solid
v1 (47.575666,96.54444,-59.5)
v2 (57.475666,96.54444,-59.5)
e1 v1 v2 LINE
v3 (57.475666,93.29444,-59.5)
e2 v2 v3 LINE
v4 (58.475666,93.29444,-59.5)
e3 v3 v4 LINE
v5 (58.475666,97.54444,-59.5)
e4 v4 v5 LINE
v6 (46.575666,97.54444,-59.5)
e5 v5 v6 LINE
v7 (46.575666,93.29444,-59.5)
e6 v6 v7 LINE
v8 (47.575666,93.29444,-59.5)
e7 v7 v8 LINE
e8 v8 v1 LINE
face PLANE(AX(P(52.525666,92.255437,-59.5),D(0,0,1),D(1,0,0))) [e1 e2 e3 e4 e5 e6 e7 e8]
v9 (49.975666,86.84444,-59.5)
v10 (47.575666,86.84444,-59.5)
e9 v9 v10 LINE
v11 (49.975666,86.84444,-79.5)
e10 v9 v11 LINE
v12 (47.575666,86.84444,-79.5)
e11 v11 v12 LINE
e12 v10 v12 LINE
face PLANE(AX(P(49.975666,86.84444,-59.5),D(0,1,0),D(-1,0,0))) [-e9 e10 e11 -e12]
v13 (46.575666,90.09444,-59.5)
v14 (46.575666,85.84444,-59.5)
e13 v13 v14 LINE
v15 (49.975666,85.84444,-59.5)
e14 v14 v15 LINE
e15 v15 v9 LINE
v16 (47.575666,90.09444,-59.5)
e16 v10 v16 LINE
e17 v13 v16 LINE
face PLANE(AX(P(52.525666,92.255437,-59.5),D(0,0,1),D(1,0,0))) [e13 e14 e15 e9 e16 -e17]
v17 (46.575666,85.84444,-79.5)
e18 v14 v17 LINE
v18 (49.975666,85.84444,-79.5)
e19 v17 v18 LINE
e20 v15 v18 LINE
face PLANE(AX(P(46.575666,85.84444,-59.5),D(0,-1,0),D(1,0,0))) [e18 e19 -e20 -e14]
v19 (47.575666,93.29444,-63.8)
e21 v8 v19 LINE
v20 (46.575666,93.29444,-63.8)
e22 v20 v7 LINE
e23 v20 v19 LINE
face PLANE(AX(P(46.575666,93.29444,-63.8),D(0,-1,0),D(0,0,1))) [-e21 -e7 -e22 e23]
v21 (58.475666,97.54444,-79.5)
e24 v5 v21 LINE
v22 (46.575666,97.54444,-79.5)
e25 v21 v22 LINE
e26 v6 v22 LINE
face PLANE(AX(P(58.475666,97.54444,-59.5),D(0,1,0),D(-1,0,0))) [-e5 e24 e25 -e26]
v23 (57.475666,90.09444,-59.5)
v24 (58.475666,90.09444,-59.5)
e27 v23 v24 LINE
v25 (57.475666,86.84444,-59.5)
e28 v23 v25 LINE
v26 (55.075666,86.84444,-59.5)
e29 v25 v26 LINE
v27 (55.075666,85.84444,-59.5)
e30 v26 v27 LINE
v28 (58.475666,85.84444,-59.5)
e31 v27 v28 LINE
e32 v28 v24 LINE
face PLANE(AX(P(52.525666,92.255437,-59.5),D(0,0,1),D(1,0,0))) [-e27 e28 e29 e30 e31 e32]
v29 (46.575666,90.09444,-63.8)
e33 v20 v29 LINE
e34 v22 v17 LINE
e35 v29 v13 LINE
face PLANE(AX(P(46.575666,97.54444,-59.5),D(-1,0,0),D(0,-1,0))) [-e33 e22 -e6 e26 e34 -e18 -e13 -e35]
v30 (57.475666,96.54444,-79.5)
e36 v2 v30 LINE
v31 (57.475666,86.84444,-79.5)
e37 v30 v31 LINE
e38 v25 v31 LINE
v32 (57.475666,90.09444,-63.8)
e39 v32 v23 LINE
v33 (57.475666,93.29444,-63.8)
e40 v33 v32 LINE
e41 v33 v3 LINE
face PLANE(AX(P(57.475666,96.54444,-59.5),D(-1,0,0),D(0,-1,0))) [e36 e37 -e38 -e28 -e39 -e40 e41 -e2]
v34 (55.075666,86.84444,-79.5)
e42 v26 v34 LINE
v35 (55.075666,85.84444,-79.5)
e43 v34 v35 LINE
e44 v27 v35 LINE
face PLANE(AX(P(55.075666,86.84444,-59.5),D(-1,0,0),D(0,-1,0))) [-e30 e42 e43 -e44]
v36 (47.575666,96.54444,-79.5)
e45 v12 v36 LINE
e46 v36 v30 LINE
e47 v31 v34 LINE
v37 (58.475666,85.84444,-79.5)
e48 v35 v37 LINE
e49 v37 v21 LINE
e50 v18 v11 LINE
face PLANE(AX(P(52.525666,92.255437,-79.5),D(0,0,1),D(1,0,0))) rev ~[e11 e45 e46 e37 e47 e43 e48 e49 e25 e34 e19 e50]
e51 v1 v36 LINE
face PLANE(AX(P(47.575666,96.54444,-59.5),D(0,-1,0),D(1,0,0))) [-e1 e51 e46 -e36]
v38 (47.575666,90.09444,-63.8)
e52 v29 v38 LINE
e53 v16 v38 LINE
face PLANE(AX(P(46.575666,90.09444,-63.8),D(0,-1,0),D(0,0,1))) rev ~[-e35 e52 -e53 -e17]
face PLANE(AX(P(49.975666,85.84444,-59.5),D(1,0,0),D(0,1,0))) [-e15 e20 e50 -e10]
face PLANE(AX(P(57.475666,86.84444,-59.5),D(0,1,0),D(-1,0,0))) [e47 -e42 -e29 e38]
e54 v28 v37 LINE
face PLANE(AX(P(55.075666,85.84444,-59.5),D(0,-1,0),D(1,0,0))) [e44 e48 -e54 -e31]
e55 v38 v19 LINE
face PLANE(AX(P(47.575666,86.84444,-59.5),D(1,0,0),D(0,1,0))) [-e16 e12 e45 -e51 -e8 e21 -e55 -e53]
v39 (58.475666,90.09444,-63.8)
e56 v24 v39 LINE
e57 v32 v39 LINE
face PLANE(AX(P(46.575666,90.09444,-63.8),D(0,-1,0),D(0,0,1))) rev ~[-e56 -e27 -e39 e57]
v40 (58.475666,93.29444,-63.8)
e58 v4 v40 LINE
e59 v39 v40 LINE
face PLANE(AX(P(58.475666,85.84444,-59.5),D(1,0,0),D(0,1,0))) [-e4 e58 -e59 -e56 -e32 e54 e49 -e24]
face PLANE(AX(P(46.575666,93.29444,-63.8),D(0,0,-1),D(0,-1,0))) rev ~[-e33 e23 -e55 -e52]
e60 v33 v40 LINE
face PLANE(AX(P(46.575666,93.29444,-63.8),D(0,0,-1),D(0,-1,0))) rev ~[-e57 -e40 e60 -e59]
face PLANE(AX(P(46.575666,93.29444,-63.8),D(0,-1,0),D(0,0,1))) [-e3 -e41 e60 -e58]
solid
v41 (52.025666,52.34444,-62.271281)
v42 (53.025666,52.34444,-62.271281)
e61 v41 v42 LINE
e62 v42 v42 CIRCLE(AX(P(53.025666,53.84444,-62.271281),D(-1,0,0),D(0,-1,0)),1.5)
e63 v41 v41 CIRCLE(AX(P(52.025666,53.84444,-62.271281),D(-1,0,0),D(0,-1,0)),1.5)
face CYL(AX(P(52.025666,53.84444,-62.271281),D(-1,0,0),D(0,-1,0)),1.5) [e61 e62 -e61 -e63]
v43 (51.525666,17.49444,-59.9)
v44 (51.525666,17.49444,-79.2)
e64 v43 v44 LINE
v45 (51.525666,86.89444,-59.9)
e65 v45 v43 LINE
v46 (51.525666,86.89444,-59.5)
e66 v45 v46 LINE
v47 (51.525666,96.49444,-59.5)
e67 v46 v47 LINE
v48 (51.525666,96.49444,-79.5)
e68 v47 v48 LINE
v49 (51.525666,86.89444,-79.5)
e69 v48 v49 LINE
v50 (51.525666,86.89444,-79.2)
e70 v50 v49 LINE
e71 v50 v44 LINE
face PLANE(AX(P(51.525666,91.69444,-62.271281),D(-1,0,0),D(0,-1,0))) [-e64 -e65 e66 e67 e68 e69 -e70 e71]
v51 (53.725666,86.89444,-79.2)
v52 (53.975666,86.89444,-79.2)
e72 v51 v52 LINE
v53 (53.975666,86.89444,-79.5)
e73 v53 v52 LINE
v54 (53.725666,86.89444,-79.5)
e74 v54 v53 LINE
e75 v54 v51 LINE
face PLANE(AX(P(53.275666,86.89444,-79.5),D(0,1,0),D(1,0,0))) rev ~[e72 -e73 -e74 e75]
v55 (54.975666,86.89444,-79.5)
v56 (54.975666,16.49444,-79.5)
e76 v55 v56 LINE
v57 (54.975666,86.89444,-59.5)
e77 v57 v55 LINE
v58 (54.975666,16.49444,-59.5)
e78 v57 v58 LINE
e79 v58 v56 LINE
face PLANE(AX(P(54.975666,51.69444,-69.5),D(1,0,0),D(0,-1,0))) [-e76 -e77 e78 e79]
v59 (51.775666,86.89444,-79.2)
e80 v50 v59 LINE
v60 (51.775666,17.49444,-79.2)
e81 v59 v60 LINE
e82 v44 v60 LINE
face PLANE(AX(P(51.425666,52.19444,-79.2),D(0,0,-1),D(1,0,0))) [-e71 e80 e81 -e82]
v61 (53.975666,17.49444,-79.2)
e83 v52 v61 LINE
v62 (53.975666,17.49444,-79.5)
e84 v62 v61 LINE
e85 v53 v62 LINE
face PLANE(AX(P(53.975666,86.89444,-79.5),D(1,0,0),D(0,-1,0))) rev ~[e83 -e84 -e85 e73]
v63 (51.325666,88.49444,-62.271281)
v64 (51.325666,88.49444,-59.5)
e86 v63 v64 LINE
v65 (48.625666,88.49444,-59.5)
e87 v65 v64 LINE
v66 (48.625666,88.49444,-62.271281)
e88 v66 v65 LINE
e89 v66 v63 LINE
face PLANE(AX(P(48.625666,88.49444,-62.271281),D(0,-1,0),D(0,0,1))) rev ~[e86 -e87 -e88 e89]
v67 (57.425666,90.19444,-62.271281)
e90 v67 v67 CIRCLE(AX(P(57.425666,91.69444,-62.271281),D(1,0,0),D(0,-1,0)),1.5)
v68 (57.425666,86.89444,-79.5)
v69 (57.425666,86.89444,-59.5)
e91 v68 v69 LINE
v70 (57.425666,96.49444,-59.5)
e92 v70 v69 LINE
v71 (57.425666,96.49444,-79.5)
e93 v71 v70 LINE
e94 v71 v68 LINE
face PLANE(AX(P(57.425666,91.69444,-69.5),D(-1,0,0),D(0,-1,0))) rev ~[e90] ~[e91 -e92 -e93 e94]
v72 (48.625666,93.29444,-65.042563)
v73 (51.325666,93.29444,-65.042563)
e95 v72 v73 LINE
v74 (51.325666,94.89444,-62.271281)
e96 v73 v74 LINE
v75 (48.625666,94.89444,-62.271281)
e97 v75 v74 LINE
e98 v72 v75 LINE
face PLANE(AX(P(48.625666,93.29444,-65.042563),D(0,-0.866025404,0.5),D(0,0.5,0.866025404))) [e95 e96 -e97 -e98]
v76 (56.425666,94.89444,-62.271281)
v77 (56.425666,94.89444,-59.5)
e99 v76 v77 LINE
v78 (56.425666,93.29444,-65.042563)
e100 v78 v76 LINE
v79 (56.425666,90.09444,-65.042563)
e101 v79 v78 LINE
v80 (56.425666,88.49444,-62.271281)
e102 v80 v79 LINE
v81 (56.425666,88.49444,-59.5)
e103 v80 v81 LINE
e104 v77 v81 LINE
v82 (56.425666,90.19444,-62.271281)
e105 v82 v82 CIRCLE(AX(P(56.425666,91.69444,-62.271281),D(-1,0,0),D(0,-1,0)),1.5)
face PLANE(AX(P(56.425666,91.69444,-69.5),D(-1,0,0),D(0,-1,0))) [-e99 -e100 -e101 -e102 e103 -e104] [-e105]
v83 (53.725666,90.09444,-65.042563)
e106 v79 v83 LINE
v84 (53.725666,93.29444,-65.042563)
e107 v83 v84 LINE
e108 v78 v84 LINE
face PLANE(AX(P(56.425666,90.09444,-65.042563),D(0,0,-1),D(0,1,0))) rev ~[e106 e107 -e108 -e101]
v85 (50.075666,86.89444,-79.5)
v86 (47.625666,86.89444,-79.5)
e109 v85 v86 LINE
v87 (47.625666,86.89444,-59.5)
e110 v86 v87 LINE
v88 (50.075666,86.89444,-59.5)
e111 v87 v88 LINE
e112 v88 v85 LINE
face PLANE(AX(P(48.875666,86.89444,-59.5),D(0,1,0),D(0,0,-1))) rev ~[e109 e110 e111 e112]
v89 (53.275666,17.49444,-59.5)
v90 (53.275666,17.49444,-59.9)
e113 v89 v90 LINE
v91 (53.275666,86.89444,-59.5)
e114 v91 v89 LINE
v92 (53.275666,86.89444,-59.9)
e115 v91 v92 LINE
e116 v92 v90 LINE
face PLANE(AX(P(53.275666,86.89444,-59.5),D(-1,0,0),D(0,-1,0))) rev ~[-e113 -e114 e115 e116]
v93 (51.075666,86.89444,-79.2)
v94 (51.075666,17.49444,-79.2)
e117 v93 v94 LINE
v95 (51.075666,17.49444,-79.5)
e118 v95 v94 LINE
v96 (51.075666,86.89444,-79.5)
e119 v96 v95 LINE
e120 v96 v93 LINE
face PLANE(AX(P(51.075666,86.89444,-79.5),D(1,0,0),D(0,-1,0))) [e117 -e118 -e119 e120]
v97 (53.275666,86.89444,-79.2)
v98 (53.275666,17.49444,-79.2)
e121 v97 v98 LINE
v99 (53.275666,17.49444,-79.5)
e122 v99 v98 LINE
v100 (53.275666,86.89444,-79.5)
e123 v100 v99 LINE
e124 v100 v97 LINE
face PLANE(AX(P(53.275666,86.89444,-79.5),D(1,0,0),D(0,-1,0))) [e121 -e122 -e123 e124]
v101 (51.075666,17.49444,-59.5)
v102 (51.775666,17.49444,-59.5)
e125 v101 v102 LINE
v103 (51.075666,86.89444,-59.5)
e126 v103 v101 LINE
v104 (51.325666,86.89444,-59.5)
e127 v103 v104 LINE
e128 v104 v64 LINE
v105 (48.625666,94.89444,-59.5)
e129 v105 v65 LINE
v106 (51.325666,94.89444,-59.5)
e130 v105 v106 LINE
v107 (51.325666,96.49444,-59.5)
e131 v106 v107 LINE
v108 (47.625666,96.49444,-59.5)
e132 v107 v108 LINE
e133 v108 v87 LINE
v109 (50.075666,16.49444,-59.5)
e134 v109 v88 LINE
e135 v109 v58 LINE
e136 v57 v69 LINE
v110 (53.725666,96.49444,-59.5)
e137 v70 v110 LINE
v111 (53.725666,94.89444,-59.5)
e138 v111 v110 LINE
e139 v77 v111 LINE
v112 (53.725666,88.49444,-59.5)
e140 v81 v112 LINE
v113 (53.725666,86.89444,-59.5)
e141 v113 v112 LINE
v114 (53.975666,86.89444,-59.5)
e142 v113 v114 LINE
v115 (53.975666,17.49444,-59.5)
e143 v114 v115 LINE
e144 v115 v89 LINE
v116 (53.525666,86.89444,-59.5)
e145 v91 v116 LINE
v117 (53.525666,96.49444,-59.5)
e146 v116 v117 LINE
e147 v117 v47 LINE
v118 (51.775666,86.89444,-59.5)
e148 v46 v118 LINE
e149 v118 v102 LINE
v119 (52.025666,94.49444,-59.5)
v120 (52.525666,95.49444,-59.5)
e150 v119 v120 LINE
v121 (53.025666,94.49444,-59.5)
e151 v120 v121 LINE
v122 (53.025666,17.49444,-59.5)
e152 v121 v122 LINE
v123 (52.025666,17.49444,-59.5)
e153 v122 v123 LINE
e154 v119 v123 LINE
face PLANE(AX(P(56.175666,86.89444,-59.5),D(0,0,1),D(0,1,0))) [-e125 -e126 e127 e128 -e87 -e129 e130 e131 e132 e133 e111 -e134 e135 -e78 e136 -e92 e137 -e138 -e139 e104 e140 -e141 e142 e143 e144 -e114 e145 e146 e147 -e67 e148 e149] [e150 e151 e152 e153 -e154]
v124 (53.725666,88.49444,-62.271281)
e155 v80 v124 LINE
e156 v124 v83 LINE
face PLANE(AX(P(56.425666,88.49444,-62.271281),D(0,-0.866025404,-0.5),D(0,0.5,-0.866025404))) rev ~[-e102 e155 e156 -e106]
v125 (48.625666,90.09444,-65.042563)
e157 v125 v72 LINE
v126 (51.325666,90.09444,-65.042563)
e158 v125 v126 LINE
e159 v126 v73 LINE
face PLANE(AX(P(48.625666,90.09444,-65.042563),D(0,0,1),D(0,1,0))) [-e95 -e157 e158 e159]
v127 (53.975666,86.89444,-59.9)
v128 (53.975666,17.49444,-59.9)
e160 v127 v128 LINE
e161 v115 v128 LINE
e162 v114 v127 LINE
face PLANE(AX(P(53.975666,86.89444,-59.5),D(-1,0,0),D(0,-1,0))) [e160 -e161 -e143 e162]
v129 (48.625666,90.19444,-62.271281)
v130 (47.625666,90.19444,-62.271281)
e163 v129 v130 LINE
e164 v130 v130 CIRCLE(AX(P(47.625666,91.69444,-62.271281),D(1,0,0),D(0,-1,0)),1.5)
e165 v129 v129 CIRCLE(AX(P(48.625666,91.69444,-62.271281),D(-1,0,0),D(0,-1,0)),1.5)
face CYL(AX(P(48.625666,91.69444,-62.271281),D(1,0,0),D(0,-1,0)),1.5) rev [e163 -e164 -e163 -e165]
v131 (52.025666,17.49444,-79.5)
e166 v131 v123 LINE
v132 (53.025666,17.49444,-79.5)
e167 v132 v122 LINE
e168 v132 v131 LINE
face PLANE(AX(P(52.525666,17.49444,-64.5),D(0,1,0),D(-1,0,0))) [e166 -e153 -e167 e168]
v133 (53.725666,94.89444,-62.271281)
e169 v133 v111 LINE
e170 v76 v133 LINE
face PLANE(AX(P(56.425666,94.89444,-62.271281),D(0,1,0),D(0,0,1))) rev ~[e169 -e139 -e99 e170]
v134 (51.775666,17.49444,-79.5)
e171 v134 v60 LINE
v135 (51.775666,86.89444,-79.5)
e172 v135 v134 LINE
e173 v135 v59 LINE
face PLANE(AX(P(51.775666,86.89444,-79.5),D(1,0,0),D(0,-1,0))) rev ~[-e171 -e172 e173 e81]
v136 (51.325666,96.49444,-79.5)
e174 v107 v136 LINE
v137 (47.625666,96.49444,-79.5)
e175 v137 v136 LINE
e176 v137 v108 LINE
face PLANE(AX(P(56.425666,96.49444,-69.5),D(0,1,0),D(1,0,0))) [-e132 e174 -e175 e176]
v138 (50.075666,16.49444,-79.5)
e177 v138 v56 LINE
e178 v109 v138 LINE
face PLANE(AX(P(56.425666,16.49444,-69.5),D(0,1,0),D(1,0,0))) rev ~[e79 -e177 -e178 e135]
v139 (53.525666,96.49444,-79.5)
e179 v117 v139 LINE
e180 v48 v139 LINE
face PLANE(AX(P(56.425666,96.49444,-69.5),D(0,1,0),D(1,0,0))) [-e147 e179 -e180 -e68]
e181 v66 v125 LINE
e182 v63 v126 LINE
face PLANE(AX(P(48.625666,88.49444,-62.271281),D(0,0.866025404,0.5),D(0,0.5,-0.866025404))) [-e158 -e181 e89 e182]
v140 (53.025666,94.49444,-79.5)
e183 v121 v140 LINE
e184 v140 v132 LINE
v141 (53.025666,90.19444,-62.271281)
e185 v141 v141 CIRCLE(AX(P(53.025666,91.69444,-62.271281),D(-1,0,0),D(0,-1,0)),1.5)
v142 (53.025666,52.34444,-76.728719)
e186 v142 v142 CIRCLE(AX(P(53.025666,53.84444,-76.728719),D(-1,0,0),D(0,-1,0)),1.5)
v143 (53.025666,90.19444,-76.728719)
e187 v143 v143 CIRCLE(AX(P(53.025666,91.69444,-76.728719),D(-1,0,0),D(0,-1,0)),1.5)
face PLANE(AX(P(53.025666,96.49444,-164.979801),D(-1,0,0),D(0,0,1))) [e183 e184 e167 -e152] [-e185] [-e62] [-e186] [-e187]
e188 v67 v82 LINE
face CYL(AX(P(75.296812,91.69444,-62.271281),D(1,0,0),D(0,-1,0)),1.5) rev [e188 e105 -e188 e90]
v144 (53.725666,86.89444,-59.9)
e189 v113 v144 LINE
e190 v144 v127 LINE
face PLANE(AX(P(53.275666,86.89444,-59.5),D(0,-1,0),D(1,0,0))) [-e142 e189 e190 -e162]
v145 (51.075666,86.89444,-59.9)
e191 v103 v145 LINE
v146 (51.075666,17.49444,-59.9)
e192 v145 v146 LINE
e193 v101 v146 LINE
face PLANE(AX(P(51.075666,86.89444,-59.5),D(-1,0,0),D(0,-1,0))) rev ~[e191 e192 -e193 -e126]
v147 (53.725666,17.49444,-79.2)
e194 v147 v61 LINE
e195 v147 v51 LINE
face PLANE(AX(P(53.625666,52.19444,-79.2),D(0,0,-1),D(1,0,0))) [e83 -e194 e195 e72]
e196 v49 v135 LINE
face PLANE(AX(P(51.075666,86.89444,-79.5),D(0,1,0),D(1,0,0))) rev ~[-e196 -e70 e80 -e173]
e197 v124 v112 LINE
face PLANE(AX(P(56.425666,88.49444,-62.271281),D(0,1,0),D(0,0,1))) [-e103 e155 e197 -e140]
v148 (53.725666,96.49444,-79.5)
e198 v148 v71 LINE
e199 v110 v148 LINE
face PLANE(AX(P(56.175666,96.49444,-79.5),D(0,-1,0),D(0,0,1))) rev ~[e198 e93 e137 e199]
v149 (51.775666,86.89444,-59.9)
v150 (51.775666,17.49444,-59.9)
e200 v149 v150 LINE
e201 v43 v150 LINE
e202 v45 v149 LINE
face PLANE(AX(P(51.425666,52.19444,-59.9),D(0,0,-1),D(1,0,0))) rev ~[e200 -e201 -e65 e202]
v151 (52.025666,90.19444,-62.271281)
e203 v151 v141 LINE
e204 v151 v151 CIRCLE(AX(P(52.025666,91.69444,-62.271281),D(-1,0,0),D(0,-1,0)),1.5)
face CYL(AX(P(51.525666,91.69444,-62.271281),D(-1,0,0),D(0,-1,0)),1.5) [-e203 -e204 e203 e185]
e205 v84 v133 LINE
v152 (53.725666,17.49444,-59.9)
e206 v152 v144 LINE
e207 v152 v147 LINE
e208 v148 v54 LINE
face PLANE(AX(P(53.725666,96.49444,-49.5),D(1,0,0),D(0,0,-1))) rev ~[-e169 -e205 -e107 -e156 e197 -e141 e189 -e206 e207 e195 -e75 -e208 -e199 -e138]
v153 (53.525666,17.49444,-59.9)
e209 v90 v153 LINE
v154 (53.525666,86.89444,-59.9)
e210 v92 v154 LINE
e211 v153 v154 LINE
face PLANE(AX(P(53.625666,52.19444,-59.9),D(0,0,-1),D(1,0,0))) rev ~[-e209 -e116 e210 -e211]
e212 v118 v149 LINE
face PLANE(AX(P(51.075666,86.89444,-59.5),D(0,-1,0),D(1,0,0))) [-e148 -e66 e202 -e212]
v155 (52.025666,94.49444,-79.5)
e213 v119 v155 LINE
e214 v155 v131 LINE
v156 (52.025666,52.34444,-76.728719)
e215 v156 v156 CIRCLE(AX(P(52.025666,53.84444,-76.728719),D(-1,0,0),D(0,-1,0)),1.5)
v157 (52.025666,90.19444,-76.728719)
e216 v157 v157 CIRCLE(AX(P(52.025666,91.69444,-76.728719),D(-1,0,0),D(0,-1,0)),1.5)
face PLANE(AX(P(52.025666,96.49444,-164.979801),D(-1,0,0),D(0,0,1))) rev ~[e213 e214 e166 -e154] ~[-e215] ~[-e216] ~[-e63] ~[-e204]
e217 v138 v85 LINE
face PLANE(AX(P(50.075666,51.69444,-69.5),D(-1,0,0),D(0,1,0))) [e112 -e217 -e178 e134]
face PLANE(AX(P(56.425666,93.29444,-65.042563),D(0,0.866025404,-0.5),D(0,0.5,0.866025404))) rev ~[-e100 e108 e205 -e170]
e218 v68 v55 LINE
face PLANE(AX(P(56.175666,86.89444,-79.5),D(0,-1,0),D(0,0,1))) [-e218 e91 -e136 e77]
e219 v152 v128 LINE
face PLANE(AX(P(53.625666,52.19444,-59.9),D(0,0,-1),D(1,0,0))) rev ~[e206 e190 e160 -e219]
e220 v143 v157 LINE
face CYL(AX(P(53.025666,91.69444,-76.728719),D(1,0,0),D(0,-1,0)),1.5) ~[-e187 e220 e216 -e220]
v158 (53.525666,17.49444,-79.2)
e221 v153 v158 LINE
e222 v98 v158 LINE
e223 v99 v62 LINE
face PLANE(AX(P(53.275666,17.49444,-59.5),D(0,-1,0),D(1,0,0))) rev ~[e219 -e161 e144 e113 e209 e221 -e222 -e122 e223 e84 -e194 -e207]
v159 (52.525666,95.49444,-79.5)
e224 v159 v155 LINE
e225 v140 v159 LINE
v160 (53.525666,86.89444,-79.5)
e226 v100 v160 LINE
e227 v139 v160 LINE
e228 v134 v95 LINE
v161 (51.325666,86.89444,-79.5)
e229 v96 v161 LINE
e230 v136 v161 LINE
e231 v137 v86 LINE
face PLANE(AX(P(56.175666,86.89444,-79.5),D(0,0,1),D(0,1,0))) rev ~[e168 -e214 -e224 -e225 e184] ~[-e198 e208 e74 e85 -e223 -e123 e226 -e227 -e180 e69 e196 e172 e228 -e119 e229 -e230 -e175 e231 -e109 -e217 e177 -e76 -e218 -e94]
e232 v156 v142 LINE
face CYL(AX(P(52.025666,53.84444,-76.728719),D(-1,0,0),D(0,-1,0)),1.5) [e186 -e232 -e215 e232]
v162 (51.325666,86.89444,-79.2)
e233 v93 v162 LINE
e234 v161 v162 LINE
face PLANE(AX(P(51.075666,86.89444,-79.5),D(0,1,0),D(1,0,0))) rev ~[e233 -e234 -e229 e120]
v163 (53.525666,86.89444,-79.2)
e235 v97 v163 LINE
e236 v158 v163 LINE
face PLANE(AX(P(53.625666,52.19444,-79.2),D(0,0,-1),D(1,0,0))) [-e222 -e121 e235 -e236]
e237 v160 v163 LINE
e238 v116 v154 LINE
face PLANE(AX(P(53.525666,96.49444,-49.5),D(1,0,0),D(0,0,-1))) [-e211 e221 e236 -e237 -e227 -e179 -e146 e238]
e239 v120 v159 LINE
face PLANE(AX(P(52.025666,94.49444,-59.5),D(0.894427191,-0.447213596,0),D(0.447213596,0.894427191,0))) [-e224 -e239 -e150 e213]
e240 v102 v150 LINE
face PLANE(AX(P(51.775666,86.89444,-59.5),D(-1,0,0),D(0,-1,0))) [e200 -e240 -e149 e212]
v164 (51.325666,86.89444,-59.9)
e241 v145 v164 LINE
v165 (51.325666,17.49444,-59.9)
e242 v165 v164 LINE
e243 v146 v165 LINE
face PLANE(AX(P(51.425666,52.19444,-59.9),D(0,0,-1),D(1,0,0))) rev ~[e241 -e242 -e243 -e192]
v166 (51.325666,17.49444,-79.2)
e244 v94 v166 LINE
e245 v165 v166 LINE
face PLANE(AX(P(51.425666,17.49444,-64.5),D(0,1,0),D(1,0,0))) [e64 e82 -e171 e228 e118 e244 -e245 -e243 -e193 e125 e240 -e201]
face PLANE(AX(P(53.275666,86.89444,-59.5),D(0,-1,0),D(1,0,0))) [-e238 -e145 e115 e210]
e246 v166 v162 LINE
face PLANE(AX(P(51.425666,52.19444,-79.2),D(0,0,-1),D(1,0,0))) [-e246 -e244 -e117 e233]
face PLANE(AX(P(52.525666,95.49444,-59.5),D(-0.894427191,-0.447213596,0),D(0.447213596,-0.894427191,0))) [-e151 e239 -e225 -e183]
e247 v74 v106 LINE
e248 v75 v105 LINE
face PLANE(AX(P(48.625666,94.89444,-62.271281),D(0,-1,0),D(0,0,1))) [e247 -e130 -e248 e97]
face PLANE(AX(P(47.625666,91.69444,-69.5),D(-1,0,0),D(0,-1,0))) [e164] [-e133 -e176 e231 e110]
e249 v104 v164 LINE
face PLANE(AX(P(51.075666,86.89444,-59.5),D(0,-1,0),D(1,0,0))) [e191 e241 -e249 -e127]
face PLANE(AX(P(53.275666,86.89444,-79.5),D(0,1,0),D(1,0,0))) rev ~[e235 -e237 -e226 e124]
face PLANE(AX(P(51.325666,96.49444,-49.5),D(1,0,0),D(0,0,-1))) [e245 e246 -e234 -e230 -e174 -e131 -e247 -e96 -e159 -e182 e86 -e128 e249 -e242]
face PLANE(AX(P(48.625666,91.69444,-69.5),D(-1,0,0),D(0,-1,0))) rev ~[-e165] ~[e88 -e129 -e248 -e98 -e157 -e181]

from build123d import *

# Parameters (mm, degrees)
RECTANGLE019_W         = 3.2
RECTANGLE019_H         = 4.3
EXTRUSION029_DEPTH     = 17.8604402213
EXTRUSION028_DEPTH     = 20
FACE001_W              = 70.4
FACE001_H              = 20
EXTRUSION027_DEPTH     = 1.2
FACE_W                 = 70.4
FACE_H                 = 20
EXTRUSION026_DEPTH     = 1.2
CLONE2D008_W           = 0.7
CLONE2D008_H           = 69.4
EXTRUSION025_DEPTH     = 0.4
RECTANGLE018_W         = 0.7
RECTANGLE018_H         = 69.4
EXTRUSION024_DEPTH     = 0.4
RECTANGLE017_W         = 0.7
RECTANGLE017_H         = 69.4
EXTRUSION023_DEPTH     = 0.3
RECTANGLE016_W         = 0.7
RECTANGLE016_H         = 69.4
EXTRUSION022_DEPTH     = 0.3
CLONE2D004_R           = 1.5
EXTRUSION_DEPTH        = 1
CIRCLE001_R            = 1.5
EXTRUSION020_DEPTH     = 1.5
CIRCLE_R               = 1.5
EXTRUSION019_DEPTH     = 18.8711460539
RECTANGLE014_W         = 9.6
RECTANGLE014_H         = 20
EXTRUSION017_DEPTH     = 1
RECTANGLE013_W         = 6.4
RECTANGLE013_H         = 2.7712812921
EXTRUSION016_DEPTH     = 2.7
RECTANGLE012_W         = 6.4
RECTANGLE012_H         = 2.7712812921
EXTRUSION015_DEPTH     = 2.7
EXTRUSION014_DEPTH     = 2.7
EXTRUSION013_DEPTH     = 2.7
RECTANGLE011_W         = 9.6
RECTANGLE011_H         = 20
EXTRUSION011_DEPTH     = 0.25
RECTANGLE010_W         = 9.44665831
RECTANGLE010_H         = 103.1218659611
EXTRUSION010_DEPTH     = 80.6022812444
RECTANGLE009_W         = 15.0148324292
RECTANGLE009_H         = 103.2643527035
EXTRUSION009_DEPTH     = 80.6022812444
RECTANGLE008_W         = 7.8
RECTANGLE008_H         = 20
EXTRUSION008_DEPTH     = 104.8179216702
RECTANGLE005_W         = 1
RECTANGLE005_H         = 200.9596025133
EXTRUSION005_DEPTH     = 79
RECTANGLE004_W         = 0.2
RECTANGLE004_H         = 30
EXTRUSION003_DEPTH     = 79
CLONE2D_W              = 0.2
CLONE2D_H              = 30
EXTRUSION004_DEPTH     = 79
RECTANGLE002_W         = 20
RECTANGLE002_H         = 20
EXTRUSION002_DEPTH     = 80
EXTRUSION006_DEPTH     = 55.9863181429
RECTANGLE006_W         = 20
RECTANGLE006_H         = 1
EXTRUSION007_DEPTH     = 2
CUT005_PLACEMENT_ANGLE = 270
CLONE2D002_W           = 9.6
CLONE2D002_H           = 20
EXTRUSION012_DEPTH     = 0.25
RECTANGLE015_W         = 9.6
RECTANGLE015_H         = 20
EXTRUSION018_DEPTH     = 1
CIRCLE002_R            = 1.5
EXTRUSION021_DEPTH     = 1
CIRCLE003_R            = 1.5
EXTRUSION030_DEPTH     = 1


with BuildPart() as extrusion030:
    # Rectangle019 → Extrusion029 (new body)
    with BuildSketch(Plane(origin=(46.5756657044, 93.2944395523, -63.8), x_dir=(0, -1, 0), z_dir=(-1, 0, 0))):
        with Locations((1.6, 2.15)):
            Rectangle(RECTANGLE019_W, RECTANGLE019_H)
    extrude(amount=-EXTRUSION029_DEPTH)


with BuildPart() as cut018002:
    # Wire001 → Extrusion028 (new body)
    with BuildSketch(Plane(origin=(55.0756657044, 85.8444395523, -59.5), x_dir=(1, 0, 0), z_dir=(0, 0, 1))):
        Polygon((0, 0), (3.4, 0), (3.4, 11.7), (-8.5, 11.7), (-8.5, 0), (-5.1, 0), (-5.1, 1), (-7.5, 1), (-7.5, 10.7), (2.4, 10.7), (2.4, 1), (0, 1), align=None)
    extrude(amount=-EXTRUSION028_DEPTH)

    # Cut018002: cut Extrusion030
    add(extrusion030.part, mode=Mode.SUBTRACT)


with BuildPart() as extrusion028:
    # Face001 → Extrusion027 (new body)
    with BuildSketch(Plane(origin=(56.1756657044, 51.6944395523, -69.5), x_dir=(0, -1, 0), z_dir=(1, 0, 0))):
        Rectangle(FACE001_W, FACE001_H)
    extrude(amount=-EXTRUSION027_DEPTH)


with BuildPart() as extrusion027:
    # Face → Extrusion026 (new body)
    with BuildSketch(Plane(origin=(48.8756657044, 51.6944395523, -69.5), x_dir=(0, 1, 0), z_dir=(-1, 0, 0))):
        Rectangle(FACE_W, FACE_H)
    extrude(amount=-EXTRUSION026_DEPTH)


with BuildPart() as extrusion026:
    # Clone2D008 → Extrusion025 (new body)
    with BuildSketch(Plane(origin=(51.0756657044, 86.8944395523, -59.5), x_dir=(1, 0, 0), z_dir=(0, 0, -1))):
        with Locations((0.35, 34.7)):
            Rectangle(CLONE2D008_W, CLONE2D008_H)
    extrude(amount=EXTRUSION025_DEPTH)


with BuildPart() as extrusion025:
    # Rectangle018 → Extrusion024 (new body)
    with BuildSketch(Plane(origin=(53.2756657044, 86.8944395523, -59.5), x_dir=(1, 0, 0), z_dir=(0, 0, -1))):
        with Locations((0.35, 34.7)):
            Rectangle(RECTANGLE018_W, RECTANGLE018_H)
    extrude(amount=EXTRUSION024_DEPTH)


with BuildPart() as extrusion024:
    # Rectangle017 → Extrusion023 (new body)
    with BuildSketch(Plane(origin=(51.0756657044, 86.8944395523, -79.5), x_dir=(1, 0, 0), z_dir=(0, 0, -1))):
        with Locations((0.35, 34.7)):
            Rectangle(RECTANGLE017_W, RECTANGLE017_H)
    extrude(amount=-EXTRUSION023_DEPTH)


with BuildPart() as extrusion023:
    # Rectangle016 → Extrusion022 (new body)
    with BuildSketch(Plane(origin=(53.2756657044, 86.8944395523, -79.5), x_dir=(1, 0, 0), z_dir=(0, 0, -1))):
        with Locations((0.35, 34.7)):
            Rectangle(RECTANGLE016_W, RECTANGLE016_H)
    extrude(amount=-EXTRUSION022_DEPTH)


with BuildPart() as extrusion:
    # Clone2D004 → Extrusion (new body)
    with BuildSketch(Plane(origin=(52.0256657044, 53.8444395523, -76.7287187079), x_dir=(0, -1, 0), z_dir=(-1, 0, 0))):
        Circle(CLONE2D004_R)
    extrude(amount=-EXTRUSION_DEPTH)


with BuildPart() as extrusion021:
    # Circle001 → Extrusion020 (new body)
    with BuildSketch(Plane(origin=(51.5256657044, 91.6944395523, -62.2712812921), x_dir=(0, -1, 0), z_dir=(-1, 0, 0))):
        Circle(CIRCLE001_R)
    extrude(amount=-EXTRUSION020_DEPTH)


with BuildPart() as extrusion019:
    # Circle → Extrusion019 (new body)
    with BuildSketch(Plane(origin=(48.6256657044, 91.6944395523, -62.2712812921), x_dir=(0, -1, 0), z_dir=(-1, 0, 0))):
        Circle(CIRCLE_R)
    extrude(amount=EXTRUSION019_DEPTH)


with BuildPart() as cut013:
    # Rectangle014 → Extrusion017 (new body)
    with BuildSketch(Plane(origin=(48.6256657044, 96.4944395523, -79.5), x_dir=(0, -1, 0), z_dir=(-1, 0, 0))):
        with Locations((4.8, 10)):
            Rectangle(RECTANGLE014_W, RECTANGLE014_H)
    extrude(amount=EXTRUSION017_DEPTH)

    # Cut013: cut Extrusion019
    add(extrusion019.part, mode=Mode.SUBTRACT)


with BuildPart() as extrusion016:
    # Rectangle013 → Extrusion016 (new body)
    with BuildSketch(Plane(origin=(56.4256657044, 88.4944395523, -62.2712812921), x_dir=(0, 1, 0), z_dir=(1, 0, 0))):
        with Locations((3.2, 1.3856406461)):
            Rectangle(RECTANGLE013_W, RECTANGLE013_H)
    extrude(amount=-EXTRUSION016_DEPTH)


with BuildPart() as extrusion015:
    # Rectangle012 → Extrusion015 (new body)
    with BuildSketch(Plane(origin=(48.6256657044, 94.8944395523, -62.2712812921), x_dir=(0, -1, 0), z_dir=(-1, 0, 0))):
        with Locations((3.2, 1.3856406461)):
            Rectangle(RECTANGLE012_W, RECTANGLE012_H)
    extrude(amount=-EXTRUSION015_DEPTH)


with BuildPart() as extrusion014:
    # Polygon → Extrusion014 (new body)
    with BuildSketch(Plane(origin=(48.6256657044, 91.6944395523, -62.2712812921), x_dir=(0, 1, 0), z_dir=(1, 0, 0))):
        Polygon((3.2, 0), (1.6, 2.7712812921), (-1.6, 2.7712812921), (-3.2, 0), (-1.6, -2.7712812921), (1.6, -2.7712812921), align=None)
    extrude(amount=EXTRUSION014_DEPTH)


with BuildPart() as extrusion013:
    # Clone2D001 → Extrusion013 (new body)
    with BuildSketch(Plane(origin=(56.4256657044, 91.6944395523, -62.2712812921), x_dir=(0, 1, 0), z_dir=(1, 0, 0))):
        Polygon((3.2, 0), (1.6, 2.7712812921), (-1.6, 2.7712812921), (-3.2, 0), (-1.6, -2.7712812921), (1.6, -2.7712812921), align=None)
    extrude(amount=-EXTRUSION013_DEPTH)


with BuildPart() as extrusion011:
    # Rectangle011 → Extrusion011 (new body)
    with BuildSketch(Plane(origin=(56.1756657044, 86.8944395523, -79.5), x_dir=(0, 1, 0), z_dir=(1, 0, 0))):
        with Locations((4.8, 10)):
            Rectangle(RECTANGLE011_W, RECTANGLE011_H)
    extrude(amount=EXTRUSION011_DEPTH)


with BuildPart() as extrusion010:
    # Rectangle010 → Extrusion010 (new body)
    with BuildSketch(Plane(origin=(56.1756657044, -6.6274264088, -59.5), x_dir=(1, 0, 0), z_dir=(0, 0, 1))):
        with Locations((4.723329155, 51.5609329805)):
            Rectangle(RECTANGLE010_W, RECTANGLE010_H)
    extrude(amount=-EXTRUSION010_DEPTH)


with BuildPart() as extrusion009:
    # Rectangle009 → Extrusion009 (new body)
    with BuildSketch(Plane(origin=(33.8608332752, -6.7699131513, -59.5), x_dir=(1, 0, 0), z_dir=(0, 0, 1))):
        with Locations((7.5074162146, 51.6321763518)):
            Rectangle(RECTANGLE009_W, RECTANGLE009_H)
    extrude(amount=-EXTRUSION009_DEPTH)


with BuildPart() as extrusion008:
    # Rectangle008 → Extrusion008 (new body)
    with BuildSketch(Plane(origin=(66.4256657044, 16.4944395523, 0.5), x_dir=(-1, 0, 0), z_dir=(0, 0, 1))):
        with Locations((3.9, 10)):
            Rectangle(RECTANGLE008_W, RECTANGLE008_H)
    extrude(amount=-EXTRUSION008_DEPTH)


with BuildPart() as extrusion005:
    # Rectangle005 → Extrusion005 (new body)
    with BuildSketch(Plane(origin=(53.0256657044, 101.9742408089, 0.5), x_dir=(-1, 0, 0), z_dir=(0, 0, 1))):
        with Locations((0.5, 100.4798012566)):
            Rectangle(RECTANGLE005_W, RECTANGLE005_H)
    extrude(amount=-EXTRUSION005_DEPTH)


with BuildPart() as extrusion003:
    # Rectangle004 → Extrusion003 (new body)
    with BuildSketch(Plane(origin=(51.3256657044, -13.5055604477, 0.5), x_dir=(1, 0, 0), z_dir=(0, 0, 1))):
        with Locations((0.1, 15)):
            Rectangle(RECTANGLE004_W, RECTANGLE004_H)
    extrude(amount=-EXTRUSION003_DEPTH)


with BuildPart() as extrusion004:
    # Clone2D → Extrusion004 (new body)
    with BuildSketch(Plane(origin=(53.5256657044, -13.5055604477, 0.5), x_dir=(1, 0, 0), z_dir=(0, 0, 1))):
        with Locations((0.1, 15)):
            Rectangle(CLONE2D_W, CLONE2D_H)
    extrude(amount=-EXTRUSION004_DEPTH)


with BuildPart() as cut003:
    # Rectangle002 → Extrusion002 (new body)
    with BuildSketch(Plane(origin=(46.4256657044, -3.5055604477, 0.5), x_dir=(1, 0, 0), z_dir=(0, 0, 1))):
        with Locations((10, 10)):
            Rectangle(RECTANGLE002_W, RECTANGLE002_H)
    extrude(amount=-EXTRUSION002_DEPTH)

    # Cut001: cut Extrusion004
    add(extrusion004.part, mode=Mode.SUBTRACT)

    # Cut002: cut Extrusion003
    add(extrusion003.part, mode=Mode.SUBTRACT)

    # Cut003: cut Extrusion005
    add(extrusion005.part, mode=Mode.SUBTRACT)


with BuildPart() as extrusion006:
    # Wire → Extrusion006 (new body)
    with BuildSketch(Plane(origin=(52.0256657044, -3.5055604477, -1.5), x_dir=(1, 0, 0), z_dir=(0, -1, 0))):
        Polygon((0, 0), (0.5, 1), (1, 0), align=None)
    extrude(amount=-EXTRUSION006_DEPTH)


with BuildPart() as fusion001:
    # Rectangle006 → Extrusion007 (new body)
    with BuildSketch(Plane(origin=(53.0256657044, -3.5055604477, 0.5), x_dir=(0, 1, 0), z_dir=(0, 0, 1))):
        with Locations((10, 0.5)):
            Rectangle(RECTANGLE006_W, RECTANGLE006_H)
    extrude(amount=-EXTRUSION007_DEPTH)

    # Cut004: cut Extrusion006
    add(extrusion006.part, mode=Mode.SUBTRACT)

    # Fusion: union Cut003
    add(cut003.part)

    # Cut005: cut Extrusion008
    add(extrusion008.part, mode=Mode.SUBTRACT)


with BuildPart() as fusion001_1:
    # Cut005 placement: moved
    add(fusion001.part.moved(Location((0, 95.9944395523, -63.0055604477))).rotate(Axis((0, 95.9944395523, -63.0055604477), (1, 0, 0)), CUT005_PLACEMENT_ANGLE))

    # Cut006: cut Extrusion009
    add(extrusion009.part, mode=Mode.SUBTRACT)

    # Cut007: cut Extrusion010
    add(extrusion010.part, mode=Mode.SUBTRACT)

    # Fusion001: union Extrusion011
    add(extrusion011.part)


with BuildPart() as cut011:
    # Clone2D002 → Extrusion012 (new body)
    with BuildSketch(Plane(origin=(48.8756657044, 86.8944395523, -79.5), x_dir=(0, 1, 0), z_dir=(1, 0, 0))):
        with Locations((4.8, 10)):
            Rectangle(CLONE2D002_W, CLONE2D002_H)
    extrude(amount=-EXTRUSION012_DEPTH)

    # Fusion002: union Fusion001
    add(fusion001_1.part)

    # Cut008: cut Extrusion013
    add(extrusion013.part, mode=Mode.SUBTRACT)

    # Cut009: cut Extrusion014
    add(extrusion014.part, mode=Mode.SUBTRACT)

    # Cut010: cut Extrusion015
    add(extrusion015.part, mode=Mode.SUBTRACT)

    # Cut011: cut Extrusion016
    add(extrusion016.part, mode=Mode.SUBTRACT)


with BuildPart() as extrusion020:
    # Clone base: copy of Extrusion019
    add(extrusion019.part)


with BuildPart() as extrusion020_1:
    # Clone placement: moved
    add(extrusion020.part.moved(Location((26.6711460539, 0, 0))))


with BuildPart() as fusion003002:
    # Rectangle015 → Extrusion018 (new body)
    with BuildSketch(Plane(origin=(56.4256657044, 96.4944395523, -79.5), x_dir=(0, -1, 0), z_dir=(-1, 0, 0))):
        with Locations((4.8, 10)):
            Rectangle(RECTANGLE015_W, RECTANGLE015_H)
    extrude(amount=-EXTRUSION018_DEPTH)

    # Cut012: cut Extrusion020
    add(extrusion020_1.part, mode=Mode.SUBTRACT)

    # Fusion003: union Cut013, Cut011
    add(cut013.part)
    add(cut011.part)

    # Fusion003002: union Extrusion021
    add(extrusion021.part)


with BuildPart() as cut018001:
    # Circle002 → Extrusion021 (new body)
    with BuildSketch(Plane(origin=(52.0256657044, 53.8444395523, -62.2712812921), x_dir=(0, -1, 0), z_dir=(-1, 0, 0))):
        Circle(CIRCLE002_R)
    extrude(amount=-EXTRUSION021_DEPTH)

    # Fusion003003: union Extrusion, Fusion003002
    add(extrusion.part)
    add(fusion003002.part)

    # Cut: cut Extrusion023
    add(extrusion023.part, mode=Mode.SUBTRACT)

    # Cut014: cut Extrusion024
    add(extrusion024.part, mode=Mode.SUBTRACT)

    # Cut015: cut Extrusion025
    add(extrusion025.part, mode=Mode.SUBTRACT)

    # Cut016: cut Extrusion026
    add(extrusion026.part, mode=Mode.SUBTRACT)

    # Cut017: cut Extrusion027
    add(extrusion027.part, mode=Mode.SUBTRACT)

    # Cut018: cut Extrusion028
    add(extrusion028.part, mode=Mode.SUBTRACT)


with BuildPart() as fusion003004:
    # Circle003 → Extrusion030 (new body)
    with BuildSketch(Plane(origin=(53.0256657044, 91.6944395523, -76.7287187079), x_dir=(0, -1, 0), z_dir=(-1, 0, 0))):
        Circle(CIRCLE003_R)
    extrude(amount=EXTRUSION030_DEPTH)

    # Fusion003004: union Cut018001
    add(cut018001.part)


solid = Compound([cut018002.part, fusion003004.part])
